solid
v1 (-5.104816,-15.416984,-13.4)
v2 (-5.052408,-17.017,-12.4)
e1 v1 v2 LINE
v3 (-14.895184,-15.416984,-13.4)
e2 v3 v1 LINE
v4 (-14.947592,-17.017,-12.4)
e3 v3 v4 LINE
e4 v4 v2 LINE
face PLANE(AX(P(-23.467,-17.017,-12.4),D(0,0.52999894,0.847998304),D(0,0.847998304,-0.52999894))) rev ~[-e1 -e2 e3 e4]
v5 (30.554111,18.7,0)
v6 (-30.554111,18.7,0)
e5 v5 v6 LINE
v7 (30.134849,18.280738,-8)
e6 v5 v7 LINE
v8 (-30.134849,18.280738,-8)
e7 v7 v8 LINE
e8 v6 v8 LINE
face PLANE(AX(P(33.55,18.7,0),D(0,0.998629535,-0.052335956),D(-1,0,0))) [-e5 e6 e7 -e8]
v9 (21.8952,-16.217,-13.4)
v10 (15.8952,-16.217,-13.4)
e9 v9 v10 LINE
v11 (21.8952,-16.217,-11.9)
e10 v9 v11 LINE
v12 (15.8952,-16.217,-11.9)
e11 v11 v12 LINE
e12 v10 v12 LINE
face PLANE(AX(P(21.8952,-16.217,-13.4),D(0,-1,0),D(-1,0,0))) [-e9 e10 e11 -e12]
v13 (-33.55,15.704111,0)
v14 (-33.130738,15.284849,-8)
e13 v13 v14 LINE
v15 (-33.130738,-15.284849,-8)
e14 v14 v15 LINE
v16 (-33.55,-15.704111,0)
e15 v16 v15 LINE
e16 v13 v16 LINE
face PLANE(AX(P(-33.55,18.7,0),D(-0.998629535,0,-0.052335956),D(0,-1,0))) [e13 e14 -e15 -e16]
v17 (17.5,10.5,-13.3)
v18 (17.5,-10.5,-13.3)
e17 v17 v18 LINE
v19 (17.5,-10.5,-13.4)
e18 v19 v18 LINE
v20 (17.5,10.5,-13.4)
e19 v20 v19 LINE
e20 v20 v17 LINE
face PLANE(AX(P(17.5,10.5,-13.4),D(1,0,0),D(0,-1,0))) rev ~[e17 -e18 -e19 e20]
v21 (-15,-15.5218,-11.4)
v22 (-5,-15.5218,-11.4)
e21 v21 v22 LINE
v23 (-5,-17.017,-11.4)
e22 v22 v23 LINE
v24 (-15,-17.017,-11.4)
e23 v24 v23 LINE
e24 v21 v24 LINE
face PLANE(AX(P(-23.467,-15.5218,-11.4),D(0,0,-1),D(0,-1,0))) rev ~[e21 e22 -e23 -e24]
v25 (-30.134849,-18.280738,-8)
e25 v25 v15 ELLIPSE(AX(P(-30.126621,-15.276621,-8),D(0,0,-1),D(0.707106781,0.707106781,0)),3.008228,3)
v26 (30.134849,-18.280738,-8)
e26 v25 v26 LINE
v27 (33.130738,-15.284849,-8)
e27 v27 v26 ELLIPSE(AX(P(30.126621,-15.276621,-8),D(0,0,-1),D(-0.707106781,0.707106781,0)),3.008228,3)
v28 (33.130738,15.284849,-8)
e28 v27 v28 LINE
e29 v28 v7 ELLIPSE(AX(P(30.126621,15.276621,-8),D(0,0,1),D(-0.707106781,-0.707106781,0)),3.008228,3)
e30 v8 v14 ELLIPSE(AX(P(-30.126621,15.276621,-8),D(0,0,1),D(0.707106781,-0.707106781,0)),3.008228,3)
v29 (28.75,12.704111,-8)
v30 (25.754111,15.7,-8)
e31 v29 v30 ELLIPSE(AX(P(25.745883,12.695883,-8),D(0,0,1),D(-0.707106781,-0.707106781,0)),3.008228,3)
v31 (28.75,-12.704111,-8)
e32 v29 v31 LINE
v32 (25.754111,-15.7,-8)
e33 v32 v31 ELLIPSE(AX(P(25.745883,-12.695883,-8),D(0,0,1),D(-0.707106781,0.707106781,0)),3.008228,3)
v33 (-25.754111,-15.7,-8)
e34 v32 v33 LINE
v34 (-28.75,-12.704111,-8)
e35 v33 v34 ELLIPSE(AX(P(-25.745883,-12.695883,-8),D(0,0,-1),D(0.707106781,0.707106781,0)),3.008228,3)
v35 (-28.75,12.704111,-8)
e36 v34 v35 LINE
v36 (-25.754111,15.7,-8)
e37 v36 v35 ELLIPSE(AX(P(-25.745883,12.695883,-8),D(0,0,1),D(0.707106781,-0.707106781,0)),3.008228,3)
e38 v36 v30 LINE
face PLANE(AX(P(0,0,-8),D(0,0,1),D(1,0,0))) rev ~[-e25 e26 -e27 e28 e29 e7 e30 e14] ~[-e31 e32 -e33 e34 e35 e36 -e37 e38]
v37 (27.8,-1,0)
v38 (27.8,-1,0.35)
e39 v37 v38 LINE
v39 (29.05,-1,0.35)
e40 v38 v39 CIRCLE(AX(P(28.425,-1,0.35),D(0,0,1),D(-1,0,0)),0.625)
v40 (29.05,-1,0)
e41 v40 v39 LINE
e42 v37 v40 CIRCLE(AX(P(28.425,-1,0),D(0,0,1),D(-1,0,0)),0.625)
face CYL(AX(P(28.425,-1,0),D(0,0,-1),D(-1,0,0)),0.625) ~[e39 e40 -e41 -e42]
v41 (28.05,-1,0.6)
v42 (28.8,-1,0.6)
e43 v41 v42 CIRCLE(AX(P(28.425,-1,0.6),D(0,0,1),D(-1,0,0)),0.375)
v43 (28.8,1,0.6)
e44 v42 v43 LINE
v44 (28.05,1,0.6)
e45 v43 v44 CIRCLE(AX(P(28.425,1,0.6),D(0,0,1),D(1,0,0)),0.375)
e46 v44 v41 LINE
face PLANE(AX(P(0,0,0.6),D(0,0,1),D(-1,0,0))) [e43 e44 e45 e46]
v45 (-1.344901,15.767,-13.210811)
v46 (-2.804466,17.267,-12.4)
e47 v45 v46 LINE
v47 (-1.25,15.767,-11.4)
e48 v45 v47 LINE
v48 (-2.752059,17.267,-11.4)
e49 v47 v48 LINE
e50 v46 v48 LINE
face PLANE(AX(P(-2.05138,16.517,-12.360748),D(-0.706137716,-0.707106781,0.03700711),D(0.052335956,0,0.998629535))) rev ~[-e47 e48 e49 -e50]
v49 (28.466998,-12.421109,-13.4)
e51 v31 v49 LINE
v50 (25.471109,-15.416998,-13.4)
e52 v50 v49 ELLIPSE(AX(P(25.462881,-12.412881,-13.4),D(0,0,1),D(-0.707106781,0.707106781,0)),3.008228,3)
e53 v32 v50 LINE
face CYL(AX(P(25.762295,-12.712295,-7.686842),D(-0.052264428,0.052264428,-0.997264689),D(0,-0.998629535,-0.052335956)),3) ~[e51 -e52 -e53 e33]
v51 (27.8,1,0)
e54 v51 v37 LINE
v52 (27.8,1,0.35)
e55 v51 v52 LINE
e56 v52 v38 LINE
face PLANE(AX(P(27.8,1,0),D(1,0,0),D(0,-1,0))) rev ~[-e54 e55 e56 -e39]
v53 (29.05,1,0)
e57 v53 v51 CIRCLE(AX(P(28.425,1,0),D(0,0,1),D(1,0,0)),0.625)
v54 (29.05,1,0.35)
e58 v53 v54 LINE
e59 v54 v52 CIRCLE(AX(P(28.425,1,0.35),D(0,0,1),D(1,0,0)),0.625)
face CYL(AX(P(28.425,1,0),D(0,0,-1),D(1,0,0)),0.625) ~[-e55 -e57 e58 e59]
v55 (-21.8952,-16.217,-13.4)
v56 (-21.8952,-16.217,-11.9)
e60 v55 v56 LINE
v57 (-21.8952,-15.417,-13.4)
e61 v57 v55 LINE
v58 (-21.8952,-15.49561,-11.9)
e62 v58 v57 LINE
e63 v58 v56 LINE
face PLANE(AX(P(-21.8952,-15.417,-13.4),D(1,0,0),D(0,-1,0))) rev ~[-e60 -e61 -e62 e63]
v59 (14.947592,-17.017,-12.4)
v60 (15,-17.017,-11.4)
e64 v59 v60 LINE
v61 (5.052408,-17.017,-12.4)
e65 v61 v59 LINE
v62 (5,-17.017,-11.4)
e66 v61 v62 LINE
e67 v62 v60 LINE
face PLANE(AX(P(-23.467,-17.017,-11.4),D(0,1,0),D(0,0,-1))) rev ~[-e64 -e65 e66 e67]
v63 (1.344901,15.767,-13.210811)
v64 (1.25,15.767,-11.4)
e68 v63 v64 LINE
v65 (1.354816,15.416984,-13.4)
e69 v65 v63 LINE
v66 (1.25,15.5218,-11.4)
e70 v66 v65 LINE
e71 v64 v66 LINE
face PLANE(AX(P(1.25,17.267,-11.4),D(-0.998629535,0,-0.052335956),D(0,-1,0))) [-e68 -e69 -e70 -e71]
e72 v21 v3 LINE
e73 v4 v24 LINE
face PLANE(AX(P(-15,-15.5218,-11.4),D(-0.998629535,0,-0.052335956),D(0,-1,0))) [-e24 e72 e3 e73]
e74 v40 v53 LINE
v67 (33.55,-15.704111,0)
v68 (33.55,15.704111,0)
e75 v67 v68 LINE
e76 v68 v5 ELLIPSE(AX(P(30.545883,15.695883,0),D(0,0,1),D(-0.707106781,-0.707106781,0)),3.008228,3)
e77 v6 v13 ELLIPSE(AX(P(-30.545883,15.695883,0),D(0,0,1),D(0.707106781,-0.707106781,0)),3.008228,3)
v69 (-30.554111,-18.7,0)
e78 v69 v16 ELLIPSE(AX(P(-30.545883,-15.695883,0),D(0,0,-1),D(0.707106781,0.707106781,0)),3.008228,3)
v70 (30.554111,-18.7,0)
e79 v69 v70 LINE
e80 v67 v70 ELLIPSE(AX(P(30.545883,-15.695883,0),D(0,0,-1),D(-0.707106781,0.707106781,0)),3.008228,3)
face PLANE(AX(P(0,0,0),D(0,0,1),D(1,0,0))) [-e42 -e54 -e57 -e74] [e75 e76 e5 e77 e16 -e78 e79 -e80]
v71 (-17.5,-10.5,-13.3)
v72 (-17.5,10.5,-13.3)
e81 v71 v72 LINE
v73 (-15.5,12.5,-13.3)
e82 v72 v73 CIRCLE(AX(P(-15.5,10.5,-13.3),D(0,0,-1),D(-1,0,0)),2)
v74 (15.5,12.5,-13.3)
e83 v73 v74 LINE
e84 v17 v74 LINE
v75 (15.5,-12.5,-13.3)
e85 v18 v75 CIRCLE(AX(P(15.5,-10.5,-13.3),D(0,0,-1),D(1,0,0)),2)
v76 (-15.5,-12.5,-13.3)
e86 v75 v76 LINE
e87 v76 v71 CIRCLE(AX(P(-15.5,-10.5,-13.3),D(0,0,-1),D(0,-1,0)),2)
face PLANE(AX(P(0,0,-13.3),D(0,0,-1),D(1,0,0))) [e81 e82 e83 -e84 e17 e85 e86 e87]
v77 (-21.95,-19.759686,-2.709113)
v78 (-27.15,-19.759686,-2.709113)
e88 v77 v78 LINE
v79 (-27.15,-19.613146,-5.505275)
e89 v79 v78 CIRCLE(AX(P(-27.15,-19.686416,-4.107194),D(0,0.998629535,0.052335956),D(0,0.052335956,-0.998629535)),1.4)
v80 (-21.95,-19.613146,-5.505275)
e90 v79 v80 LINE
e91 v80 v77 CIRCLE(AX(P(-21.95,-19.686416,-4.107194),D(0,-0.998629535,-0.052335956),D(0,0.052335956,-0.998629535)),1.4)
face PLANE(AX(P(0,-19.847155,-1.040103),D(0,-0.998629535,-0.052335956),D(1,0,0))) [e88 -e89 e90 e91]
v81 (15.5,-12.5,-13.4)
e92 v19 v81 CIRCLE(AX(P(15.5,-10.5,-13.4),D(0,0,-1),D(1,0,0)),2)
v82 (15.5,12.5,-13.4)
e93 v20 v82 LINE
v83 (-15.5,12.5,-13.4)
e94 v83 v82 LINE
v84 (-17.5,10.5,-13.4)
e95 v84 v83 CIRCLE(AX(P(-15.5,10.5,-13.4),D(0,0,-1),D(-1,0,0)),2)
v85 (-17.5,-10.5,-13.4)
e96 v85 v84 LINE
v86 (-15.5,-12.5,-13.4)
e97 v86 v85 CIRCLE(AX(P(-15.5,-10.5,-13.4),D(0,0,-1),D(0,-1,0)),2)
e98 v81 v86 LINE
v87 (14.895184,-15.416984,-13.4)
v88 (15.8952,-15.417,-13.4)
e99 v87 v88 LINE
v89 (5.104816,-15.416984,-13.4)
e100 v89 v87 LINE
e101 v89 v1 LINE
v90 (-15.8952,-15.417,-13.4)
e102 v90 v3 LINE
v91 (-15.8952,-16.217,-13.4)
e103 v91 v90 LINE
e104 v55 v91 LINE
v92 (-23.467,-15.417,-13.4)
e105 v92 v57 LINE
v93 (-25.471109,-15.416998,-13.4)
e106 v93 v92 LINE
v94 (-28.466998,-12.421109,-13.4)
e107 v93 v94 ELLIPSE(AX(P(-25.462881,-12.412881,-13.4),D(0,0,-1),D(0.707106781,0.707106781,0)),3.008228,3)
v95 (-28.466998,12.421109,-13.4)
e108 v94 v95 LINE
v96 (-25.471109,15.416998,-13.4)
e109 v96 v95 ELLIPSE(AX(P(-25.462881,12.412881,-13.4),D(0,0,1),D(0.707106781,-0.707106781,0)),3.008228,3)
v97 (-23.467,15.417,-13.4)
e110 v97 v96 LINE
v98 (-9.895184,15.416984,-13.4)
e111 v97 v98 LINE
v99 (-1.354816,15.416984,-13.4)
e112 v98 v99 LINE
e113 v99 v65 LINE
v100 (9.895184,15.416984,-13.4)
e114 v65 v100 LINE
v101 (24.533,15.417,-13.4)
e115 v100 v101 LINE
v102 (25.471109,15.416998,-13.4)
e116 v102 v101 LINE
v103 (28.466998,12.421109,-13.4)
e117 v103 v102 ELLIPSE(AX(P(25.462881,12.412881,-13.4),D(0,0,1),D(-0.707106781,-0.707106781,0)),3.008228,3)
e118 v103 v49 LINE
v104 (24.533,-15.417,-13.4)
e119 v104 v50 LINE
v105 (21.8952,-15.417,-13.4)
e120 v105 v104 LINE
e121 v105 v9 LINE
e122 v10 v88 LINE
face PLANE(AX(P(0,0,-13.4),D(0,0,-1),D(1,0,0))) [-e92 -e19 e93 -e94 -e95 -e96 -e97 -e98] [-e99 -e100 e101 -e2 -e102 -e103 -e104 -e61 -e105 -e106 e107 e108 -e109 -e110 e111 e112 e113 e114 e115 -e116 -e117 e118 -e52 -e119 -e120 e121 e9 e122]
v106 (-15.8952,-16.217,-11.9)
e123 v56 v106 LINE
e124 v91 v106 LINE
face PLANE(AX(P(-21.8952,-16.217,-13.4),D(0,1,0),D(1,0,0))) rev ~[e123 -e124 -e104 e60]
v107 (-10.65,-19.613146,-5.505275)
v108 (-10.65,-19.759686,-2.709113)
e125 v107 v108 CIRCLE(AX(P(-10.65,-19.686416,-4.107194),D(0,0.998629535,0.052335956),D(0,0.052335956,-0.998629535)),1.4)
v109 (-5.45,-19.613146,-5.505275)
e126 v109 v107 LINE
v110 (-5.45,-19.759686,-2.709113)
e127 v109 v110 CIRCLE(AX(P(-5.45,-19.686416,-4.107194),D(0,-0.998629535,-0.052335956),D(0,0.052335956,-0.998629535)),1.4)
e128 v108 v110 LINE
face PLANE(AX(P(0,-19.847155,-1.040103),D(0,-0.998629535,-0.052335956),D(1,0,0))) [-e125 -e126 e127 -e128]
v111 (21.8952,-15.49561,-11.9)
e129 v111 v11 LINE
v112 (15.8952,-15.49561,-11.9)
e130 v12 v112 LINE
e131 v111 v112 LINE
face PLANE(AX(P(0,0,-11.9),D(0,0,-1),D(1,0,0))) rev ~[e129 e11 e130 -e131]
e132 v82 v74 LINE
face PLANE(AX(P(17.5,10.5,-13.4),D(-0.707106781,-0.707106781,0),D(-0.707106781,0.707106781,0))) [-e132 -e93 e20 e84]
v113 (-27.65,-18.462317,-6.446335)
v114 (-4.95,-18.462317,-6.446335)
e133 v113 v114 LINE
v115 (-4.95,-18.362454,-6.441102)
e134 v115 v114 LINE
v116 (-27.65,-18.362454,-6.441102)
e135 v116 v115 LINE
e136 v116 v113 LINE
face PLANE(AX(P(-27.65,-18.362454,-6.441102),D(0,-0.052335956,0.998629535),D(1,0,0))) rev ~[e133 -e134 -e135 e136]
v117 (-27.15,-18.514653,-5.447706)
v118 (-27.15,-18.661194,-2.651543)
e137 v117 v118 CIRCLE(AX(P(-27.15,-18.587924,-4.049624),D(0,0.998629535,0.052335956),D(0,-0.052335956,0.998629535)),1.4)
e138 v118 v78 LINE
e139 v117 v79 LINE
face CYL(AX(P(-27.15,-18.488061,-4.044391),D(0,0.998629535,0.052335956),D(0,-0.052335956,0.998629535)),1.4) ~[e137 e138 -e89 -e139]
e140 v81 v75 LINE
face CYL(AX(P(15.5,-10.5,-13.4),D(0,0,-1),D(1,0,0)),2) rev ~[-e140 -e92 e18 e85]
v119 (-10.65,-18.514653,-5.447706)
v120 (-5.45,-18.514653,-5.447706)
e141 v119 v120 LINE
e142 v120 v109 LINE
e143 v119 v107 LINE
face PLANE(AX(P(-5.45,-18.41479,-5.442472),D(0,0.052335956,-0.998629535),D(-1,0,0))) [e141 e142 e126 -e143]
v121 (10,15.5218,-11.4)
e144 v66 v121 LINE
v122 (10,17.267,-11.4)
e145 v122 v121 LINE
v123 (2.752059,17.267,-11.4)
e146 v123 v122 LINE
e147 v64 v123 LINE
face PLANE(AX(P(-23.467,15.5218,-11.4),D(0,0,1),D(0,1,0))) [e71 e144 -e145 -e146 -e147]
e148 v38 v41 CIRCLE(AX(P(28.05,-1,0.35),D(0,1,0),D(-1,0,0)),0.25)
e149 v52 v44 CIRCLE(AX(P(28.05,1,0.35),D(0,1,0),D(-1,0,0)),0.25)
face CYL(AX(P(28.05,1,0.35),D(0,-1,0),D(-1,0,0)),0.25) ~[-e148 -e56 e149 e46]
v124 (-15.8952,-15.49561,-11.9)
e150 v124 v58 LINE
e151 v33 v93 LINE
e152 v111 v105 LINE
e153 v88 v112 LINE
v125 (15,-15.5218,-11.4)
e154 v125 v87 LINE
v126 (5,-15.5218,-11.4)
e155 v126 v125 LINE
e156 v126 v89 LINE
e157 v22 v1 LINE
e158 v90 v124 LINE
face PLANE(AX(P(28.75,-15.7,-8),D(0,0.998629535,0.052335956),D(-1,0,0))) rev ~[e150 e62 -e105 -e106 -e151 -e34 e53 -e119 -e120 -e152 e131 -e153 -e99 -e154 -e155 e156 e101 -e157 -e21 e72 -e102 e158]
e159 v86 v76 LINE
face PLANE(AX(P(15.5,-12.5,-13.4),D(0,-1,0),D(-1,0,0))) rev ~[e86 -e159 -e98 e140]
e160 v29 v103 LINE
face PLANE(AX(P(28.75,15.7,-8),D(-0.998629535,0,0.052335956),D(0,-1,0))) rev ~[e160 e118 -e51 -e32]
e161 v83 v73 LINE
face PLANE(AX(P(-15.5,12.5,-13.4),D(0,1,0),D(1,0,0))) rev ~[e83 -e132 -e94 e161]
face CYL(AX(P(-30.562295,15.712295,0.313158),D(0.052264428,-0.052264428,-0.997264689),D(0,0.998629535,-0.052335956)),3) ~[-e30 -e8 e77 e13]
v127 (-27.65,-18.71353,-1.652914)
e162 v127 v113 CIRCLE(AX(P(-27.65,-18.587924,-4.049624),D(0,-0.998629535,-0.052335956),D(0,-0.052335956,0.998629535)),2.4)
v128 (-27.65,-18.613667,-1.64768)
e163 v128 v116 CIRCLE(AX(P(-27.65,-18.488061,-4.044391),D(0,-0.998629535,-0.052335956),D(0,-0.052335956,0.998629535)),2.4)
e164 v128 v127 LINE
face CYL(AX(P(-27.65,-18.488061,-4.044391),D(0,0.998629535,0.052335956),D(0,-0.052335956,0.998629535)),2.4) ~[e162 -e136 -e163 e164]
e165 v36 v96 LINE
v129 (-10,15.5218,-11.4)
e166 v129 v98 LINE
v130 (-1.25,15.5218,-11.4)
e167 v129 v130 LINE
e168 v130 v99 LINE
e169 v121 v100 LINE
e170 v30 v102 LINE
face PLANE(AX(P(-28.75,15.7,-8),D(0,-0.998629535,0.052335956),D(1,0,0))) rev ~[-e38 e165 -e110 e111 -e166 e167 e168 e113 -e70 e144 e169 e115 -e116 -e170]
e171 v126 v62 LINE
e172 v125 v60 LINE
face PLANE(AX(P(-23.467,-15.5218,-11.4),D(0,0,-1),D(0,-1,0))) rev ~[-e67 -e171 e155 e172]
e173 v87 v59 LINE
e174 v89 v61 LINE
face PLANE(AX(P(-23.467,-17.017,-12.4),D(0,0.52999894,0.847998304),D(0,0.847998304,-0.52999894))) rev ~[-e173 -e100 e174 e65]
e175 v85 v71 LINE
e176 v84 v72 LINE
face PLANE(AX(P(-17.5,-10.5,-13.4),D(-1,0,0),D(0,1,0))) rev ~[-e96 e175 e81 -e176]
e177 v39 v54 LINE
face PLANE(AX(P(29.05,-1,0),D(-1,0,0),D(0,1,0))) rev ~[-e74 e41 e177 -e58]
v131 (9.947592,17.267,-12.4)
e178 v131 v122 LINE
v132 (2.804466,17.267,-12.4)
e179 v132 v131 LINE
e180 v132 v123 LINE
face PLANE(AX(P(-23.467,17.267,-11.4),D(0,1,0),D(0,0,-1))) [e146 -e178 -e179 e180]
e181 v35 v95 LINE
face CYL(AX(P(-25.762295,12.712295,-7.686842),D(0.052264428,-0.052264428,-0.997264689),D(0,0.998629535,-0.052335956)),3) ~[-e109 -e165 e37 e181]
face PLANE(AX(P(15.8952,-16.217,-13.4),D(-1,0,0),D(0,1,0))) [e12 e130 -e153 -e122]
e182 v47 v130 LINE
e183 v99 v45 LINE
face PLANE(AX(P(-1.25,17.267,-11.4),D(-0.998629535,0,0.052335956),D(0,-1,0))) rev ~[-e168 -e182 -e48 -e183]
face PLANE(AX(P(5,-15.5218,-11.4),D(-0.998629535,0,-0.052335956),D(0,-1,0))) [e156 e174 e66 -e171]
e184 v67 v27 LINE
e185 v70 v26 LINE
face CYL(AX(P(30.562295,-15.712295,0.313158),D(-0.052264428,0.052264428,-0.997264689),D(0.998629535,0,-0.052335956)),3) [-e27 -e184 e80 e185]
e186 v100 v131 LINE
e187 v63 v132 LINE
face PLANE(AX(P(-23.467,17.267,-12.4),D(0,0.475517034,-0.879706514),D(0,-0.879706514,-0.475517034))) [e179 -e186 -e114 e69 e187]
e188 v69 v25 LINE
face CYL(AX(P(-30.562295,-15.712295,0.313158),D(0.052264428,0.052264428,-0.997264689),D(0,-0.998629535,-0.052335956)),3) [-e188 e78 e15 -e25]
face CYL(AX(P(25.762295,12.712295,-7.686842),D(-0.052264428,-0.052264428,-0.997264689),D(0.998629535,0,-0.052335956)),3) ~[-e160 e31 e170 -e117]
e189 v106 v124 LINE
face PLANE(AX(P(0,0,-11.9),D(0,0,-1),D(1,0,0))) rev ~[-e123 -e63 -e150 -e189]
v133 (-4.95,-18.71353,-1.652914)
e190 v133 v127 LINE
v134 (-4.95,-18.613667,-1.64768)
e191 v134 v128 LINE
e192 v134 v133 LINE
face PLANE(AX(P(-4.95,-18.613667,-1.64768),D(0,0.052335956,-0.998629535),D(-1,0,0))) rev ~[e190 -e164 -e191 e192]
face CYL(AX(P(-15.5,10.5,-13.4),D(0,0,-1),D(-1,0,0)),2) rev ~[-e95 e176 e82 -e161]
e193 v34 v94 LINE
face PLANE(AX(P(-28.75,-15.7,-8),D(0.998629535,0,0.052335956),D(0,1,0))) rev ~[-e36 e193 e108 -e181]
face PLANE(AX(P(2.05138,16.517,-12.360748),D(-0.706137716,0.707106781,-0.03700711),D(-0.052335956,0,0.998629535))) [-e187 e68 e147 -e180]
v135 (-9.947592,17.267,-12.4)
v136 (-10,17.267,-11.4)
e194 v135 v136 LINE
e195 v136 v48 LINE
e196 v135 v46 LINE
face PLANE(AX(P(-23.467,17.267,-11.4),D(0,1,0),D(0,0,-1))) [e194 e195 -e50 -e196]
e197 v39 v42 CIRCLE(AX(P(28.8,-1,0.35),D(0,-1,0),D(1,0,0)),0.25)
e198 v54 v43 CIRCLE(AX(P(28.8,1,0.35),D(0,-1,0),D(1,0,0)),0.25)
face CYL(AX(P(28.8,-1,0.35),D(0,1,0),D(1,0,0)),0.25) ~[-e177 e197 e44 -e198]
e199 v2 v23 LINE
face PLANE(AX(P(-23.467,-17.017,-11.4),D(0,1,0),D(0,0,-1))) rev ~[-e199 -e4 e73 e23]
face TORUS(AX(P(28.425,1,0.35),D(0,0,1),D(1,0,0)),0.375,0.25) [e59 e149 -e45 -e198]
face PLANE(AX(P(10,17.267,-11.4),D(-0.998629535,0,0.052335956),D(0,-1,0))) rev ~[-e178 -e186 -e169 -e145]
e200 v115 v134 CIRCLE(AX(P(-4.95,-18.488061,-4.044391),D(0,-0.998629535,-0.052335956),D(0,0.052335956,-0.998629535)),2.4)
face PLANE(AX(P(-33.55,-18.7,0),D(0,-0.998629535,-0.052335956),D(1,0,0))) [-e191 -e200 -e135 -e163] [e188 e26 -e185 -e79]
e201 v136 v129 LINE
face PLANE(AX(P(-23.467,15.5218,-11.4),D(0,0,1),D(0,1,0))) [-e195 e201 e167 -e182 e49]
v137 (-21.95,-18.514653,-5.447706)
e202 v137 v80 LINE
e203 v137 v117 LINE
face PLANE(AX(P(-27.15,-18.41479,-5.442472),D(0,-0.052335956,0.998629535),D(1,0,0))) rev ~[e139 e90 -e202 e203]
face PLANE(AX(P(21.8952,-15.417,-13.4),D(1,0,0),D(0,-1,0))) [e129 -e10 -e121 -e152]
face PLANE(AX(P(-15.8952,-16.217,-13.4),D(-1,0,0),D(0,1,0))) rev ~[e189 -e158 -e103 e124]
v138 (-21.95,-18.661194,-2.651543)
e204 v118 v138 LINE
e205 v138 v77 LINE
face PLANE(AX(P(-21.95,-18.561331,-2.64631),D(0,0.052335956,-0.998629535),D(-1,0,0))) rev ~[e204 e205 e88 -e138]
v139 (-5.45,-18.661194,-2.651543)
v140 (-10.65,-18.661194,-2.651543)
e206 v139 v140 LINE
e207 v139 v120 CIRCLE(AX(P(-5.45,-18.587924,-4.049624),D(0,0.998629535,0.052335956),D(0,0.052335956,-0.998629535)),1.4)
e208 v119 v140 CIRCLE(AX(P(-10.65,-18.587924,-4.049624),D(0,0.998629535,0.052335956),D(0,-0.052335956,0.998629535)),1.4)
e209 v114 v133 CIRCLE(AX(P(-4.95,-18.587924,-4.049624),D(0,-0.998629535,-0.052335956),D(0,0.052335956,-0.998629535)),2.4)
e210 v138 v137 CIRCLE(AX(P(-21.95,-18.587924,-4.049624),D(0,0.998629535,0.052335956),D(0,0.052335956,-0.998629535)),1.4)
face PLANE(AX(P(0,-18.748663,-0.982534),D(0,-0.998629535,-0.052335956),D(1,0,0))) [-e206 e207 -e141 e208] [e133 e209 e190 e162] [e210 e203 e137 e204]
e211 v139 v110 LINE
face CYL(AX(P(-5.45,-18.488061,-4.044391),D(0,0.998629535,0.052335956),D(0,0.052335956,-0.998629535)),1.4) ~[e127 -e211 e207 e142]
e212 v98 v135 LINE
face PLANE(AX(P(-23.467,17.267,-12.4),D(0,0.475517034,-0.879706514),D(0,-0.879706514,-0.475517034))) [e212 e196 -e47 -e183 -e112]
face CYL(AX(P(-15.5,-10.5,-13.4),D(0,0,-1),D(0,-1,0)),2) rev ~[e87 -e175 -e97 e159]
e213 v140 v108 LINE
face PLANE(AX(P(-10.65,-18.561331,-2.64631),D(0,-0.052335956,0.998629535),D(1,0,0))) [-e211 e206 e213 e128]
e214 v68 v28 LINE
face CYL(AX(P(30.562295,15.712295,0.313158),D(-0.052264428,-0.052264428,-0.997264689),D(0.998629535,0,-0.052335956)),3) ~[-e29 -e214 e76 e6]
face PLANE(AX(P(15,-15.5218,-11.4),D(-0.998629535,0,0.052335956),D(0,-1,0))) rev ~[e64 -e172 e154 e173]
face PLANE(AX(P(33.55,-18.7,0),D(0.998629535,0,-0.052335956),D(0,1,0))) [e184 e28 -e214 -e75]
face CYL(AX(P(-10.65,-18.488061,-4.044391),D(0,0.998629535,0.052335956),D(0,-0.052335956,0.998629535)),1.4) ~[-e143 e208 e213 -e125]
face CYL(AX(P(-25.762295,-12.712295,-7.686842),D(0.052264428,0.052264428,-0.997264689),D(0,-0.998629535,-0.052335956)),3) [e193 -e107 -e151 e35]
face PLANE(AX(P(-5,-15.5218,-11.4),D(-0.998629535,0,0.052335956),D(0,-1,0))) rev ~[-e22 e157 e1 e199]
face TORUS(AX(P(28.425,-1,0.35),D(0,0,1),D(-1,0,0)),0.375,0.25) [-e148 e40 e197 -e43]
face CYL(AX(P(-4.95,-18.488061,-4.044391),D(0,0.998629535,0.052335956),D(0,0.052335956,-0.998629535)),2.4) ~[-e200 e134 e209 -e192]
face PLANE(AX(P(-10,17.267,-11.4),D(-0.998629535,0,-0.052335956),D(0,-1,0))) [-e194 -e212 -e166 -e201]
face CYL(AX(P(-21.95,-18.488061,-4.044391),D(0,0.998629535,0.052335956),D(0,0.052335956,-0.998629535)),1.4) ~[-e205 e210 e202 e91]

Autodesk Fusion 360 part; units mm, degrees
sketch "main-upper" plane through (0, 0, 0) normal (0, 0, 1) x (1, 0, 0)
  line L0 (33.55, 18.7) -> (-33.55, 18.7)
  line L1 (-33.55, 18.7) -> (-33.55, -18.7)
  line L2 (-33.55, -18.7) -> (33.55, -18.7)
  line L3 (33.55, -18.7) -> (33.55, 18.7)
  line L4 (33.55, 18.7) -> (-33.55, -18.7) construction
  line L5 (-33.55, 18.7) -> (33.55, -18.7) construction
  dimension "d1" = 67.1
  dimension "d2" = 37.4
extrude "Extrude1" add sketch "main-upper" against normal blind 8 draft -3
sketch "rgb-led" plane through (0, 0, 0) normal (0, 0, 1) x (-1, 0, 0)
  line L0 (-33.55, 18.7) -> (-33.55, -18.7)
  line L1 (-33.55, -18.7) -> (33.55, -18.7)
  line L2 (33.55, -18.7) -> (33.55, 18.7)
  line L3 (33.55, 18.7) -> (-33.55, 18.7)
  line L4 (-27.8, -1) -> (-27.8, 1)
  arc A0 (-27.8, 1) -> (-29.05, 1) centre (-28.425, 1) ccw
  line L5 (-29.05, 1) -> (-29.05, -1)
  arc A1 (-29.05, -1) -> (-27.8, -1) centre (-28.425, -1) ccw
  line L6 (-28.425, -1.625) -> (-28.425, 1.625) construction
  line L7 (-28.425, -18.7) -> (-28.425, 18.7) construction
  point P0 (-28.425, 0)
  point P1 (-28.425, 0)
  dimension "d5" = 3.25
  dimension "d6" = 1.25
  dimension "d8" = 4.5
extrude "Extrude2" add sketch "rgb-led" along normal blind 0.6 contours L4 A0 L5 A1
fillet "Fillet1" radius 0.25 4 edges at (28.425, 1.625, 0.6) (27.8, 0, 0.6) (28.425, -1.625, 0.6) (29.05, 0, 0.6)
sketch "eink" plane through (0, 0, 0) normal (0, 0, 1) x (-1, 0, 0)
  line L0 (-29.05, -1) -> (-29.05, 1)
  arc A0 (-27.8, 1) -> (-29.05, 1) centre (-28.425, 1) ccw
  line L1 (-27.8, 1) -> (-27.8, -1)
  arc A1 (-29.05, -1) -> (-27.8, -1) centre (-28.425, -1) ccw
  line L2 (-33.55, 18.7) -> (-33.55, -18.7)
  line L3 (-33.55, -18.7) -> (33.55, -18.7)
  line L4 (33.55, -18.7) -> (33.55, 18.7)
  line L5 (33.55, 18.7) -> (-33.55, 18.7)
  line L6 (-24.05, 14) -> (24.05, 14)
  line L7 (24.05, 14) -> (24.05, -14)
  line L8 (24.05, -14) -> (-24.05, -14)
  line L9 (-24.05, -14) -> (-24.05, 14)
  line L10 (-24.05, 14) -> (24.05, -14) construction
  line L11 (24.05, 14) -> (-24.05, -14) construction
  dimension "d13" = 48.1
  dimension "d14" = 28
sketch "buttons-base" plane through (0, -18.6488, -0.9773) normal (0, -0.9986, -0.0523) x (1, 0, 0)
  line L0 (-33.1307, -7.0323) -> (33.1307, -7.0323)
  line L1 (33.1307, -7.0323) -> (33.55, 0.9787)
  line L2 (33.55, 0.9787) -> (-33.55, 0.9787)
  line L3 (-33.55, 0.9787) -> (-33.1307, -7.0323)
  line L4 (-27.65, -5.4713) -> (-4.95, -5.4713)
  arc A0 (-4.95, -5.4713) -> (-4.95, -0.6713) centre (-4.95, -3.0713) ccw
  line L5 (-4.95, -0.6713) -> (-27.65, -0.6713)
  arc A1 (-27.65, -0.6713) -> (-27.65, -5.4713) centre (-27.65, -3.0713) ccw
  line L6 (-30.05, -3.0713) -> (-2.55, -3.0713) construction
  dimension "d15" = 4.8
  dimension "d16" = 27.5
  dimension "d17" = 1.65
  dimension "d19" = 3.5
sketch "buttons" plane through (0, -18.6488, -0.9773) normal (0, -0.9986, -0.0523) x (1, 0, 0)
  line L0 (-27.15, -4.4713) -> (-21.95, -4.4713)
  arc A0 (-21.95, -4.4713) -> (-21.95, -1.6713) centre (-21.95, -3.0713) ccw
  line L1 (-21.95, -1.6713) -> (-27.15, -1.6713)
  arc A1 (-27.15, -1.6713) -> (-27.15, -4.4713) centre (-27.15, -3.0713) ccw
  line L2 (-28.55, -3.0713) -> (-20.55, -3.0713) construction
  line L3 (-30.05, -3.0713) -> (-2.55, -3.0713)
  line L4 (-27.65, -5.4713) -> (-4.95, -5.4713)
  line L5 (-16.3, -3.0713) -> (-16.3, -5.4713) construction
  line L6 (-5.45, -4.4713) -> (-10.65, -4.4713)
  arc A2 (-10.65, -1.6713) -> (-10.65, -4.4713) centre (-10.65, -3.0713) ccw
  line L7 (-10.65, -1.6713) -> (-5.45, -1.6713)
  arc A3 (-5.45, -4.4713) -> (-5.45, -1.6713) centre (-5.45, -3.0713) ccw
  dimension "d20" = 8
  dimension "d21" = 2.8
  dimension "d22" = 1.5
extrude "Extrude3" add sketch "buttons-base" along normal blind 0.1 contours L4 A0 L5 A1
extrude "Extrude4" add sketch "buttons" along normal blind 1.2
sketch "batery-compartment-body" plane through (0, 0, -8) normal (0, 0, -1) x (1, 0, 0)
  line L0 (-33.1307, -18.2807) -> (33.1307, -18.2807)
  line L1 (33.1307, -18.2807) -> (33.1307, 18.2807)
  line L2 (33.1307, 18.2807) -> (-33.1307, 18.2807)
  line L3 (-33.1307, 18.2807) -> (-33.1307, -18.2807)
  line L4 (-28.75, -15.7) -> (28.75, -15.7)
  line L5 (28.75, -15.7) -> (28.75, 15.7)
  line L6 (28.75, 15.7) -> (-28.75, 15.7)
  line L7 (-28.75, 15.7) -> (-28.75, -15.7)
  line L8 (-28.75, -15.7) -> (28.75, 15.7) construction
  line L9 (28.75, -15.7) -> (-28.75, 15.7) construction
  dimension "d27" = 57.5
  dimension "d28" = 31.4
extrude "Extrude5" add sketch "batery-compartment-body" along normal blind 5.4 draft -3 contours L4 L5 L6 L7
sketch "rear-label-indent" plane through (0, 0, -13.4) normal (0, 0, -1) x (1, 0, 0)
  line L0 (28.467, 15.417) -> (-28.467, 15.417)
  line L1 (-28.467, 15.417) -> (-28.467, -15.417)
  line L2 (-28.467, -15.417) -> (28.467, -15.417)
  line L3 (28.467, -15.417) -> (28.467, 15.417)
  line L4 (15.5, 12.5) -> (-15.5, 12.5)
  line L5 (-17.5, 10.5) -> (-17.5, -10.5)
  line L6 (-15.5, -12.5) -> (15.5, -12.5)
  line L7 (17.5, -10.5) -> (17.5, 10.5)
  line L8 (17.5, 12.5) -> (-17.5, -12.5) construction
  line L9 (-17.5, 12.5) -> (17.5, -12.5) construction
  line L10 (17.5, -10.5) -> (15.5, -12.5)
  line L11 (17.5, -12.5) -> (17.5, -10.5) construction
  line L12 (15.5, -12.5) -> (17.5, -12.5) construction
  arc A0 (-17.5, -10.5) -> (-15.5, -12.5) centre (-15.5, -10.5) ccw
  arc A1 (-15.5, 12.5) -> (-17.5, 10.5) centre (-15.5, 10.5) ccw
  arc A2 (17.5, 10.5) -> (15.5, 12.5) centre (15.5, 10.5) ccw
  dimension "d34" = 35
  dimension "d35" = 25
  dimension "d36" = 45
  dimension "d37" = 33
  dimension "d38" = 2
  dimension "d39" = 2
  dimension "d40" = 2
extrude "Extrude6" cut sketch "rear-label-indent" against normal blind 0.1 contours L4 L5 L6 L7 L10 A0 A1 A2
ref_plane "WorkPlane1" through (-28.467, 0, 0) normal (1, 0, 0) x (0, 1, 0)
sketch "clips-profiile" plane through (-28.467, 0, 0) normal (1, 0, 0) x (0, 1, 0)
  line L0 (15.417, -13.4) -> (-15.417, -13.4)
  line L1 (-15.417, -13.4) -> (-15.7, -8)
  line L2 (-15.7, -8) -> (15.7, -8)
  line L3 (15.7, -8) -> (15.417, -13.4)
  line L4 (-15.5218, -11.4) -> (-17.017, -11.4)
  line L5 (-17.017, -11.4) -> (-17.017, -12.4)
  line L6 (-17.017, -12.4) -> (-15.417, -13.4)
  line L7 (15.5218, -11.4) -> (17.267, -11.4)
  line L8 (17.267, -11.4) -> (17.267, -12.4)
  line L9 (17.267, -12.4) -> (15.417, -13.4)
  dimension "d49" = 2
  dimension "d50" = 1.6
  dimension "d51" = 1.85
  dimension "d52" = 1
  dimension "d53" = 1
fillet "Fillet2" radius 3 4 edges at (-33.3404, 18.4904, -4) (33.3404, 18.4904, -4) (33.3404, -18.4904, -4) (-33.3404, -18.4904, -4)
fillet "Fillet3" radius 3 4 edges at (28.6085, 15.5585, -10.7) (28.6085, -15.5585, -10.7) (-28.6085, -15.5585, -10.7) (-28.6085, 15.5585, -10.7)
extrude "Extrude7" add sketch "clips-profiile" along normal blind 48 from surface at 5 contours L3 L7 L8 L9 | L1 L4 L5 L6
sketch "clips-cut" plane through (0, 0, -11.4) normal (0, 0, 1) x (-1, 0, 0)
  line L0 (23.467, -17.267) -> (23.467, -15.5218)
  line L1 (23.467, -15.5218) -> (-24.533, -15.5218)
  line L2 (-24.533, -15.5218) -> (-24.533, -17.267)
  line L3 (-24.533, -17.267) -> (23.467, -17.267)
  line L4 (23.467, 15.5218) -> (23.467, 17.017)
  line L5 (23.467, 17.017) -> (-24.533, 17.017)
  line L6 (-24.533, 17.017) -> (-24.533, 15.5218)
  line L7 (-24.533, 15.5218) -> (23.467, 15.5218)
  line L8 (21.95, 18.6612) -> (27.15, 18.6612)
  line L9 (27.15, 18.6612) -> (27.15, 19.7597)
  line L10 (27.15, 19.7597) -> (21.95, 19.7597)
  line L11 (21.95, 19.7597) -> (21.95, 18.6612)
  line L12 (5.45, 18.6612) -> (10.65, 18.6612)
  line L13 (10.65, 18.6612) -> (10.65, 19.7597)
  line L14 (10.65, 19.7597) -> (5.45, 19.7597)
  line L15 (5.45, 19.7597) -> (5.45, 18.6612)
  line L16 (0, 0) -> (0, 30) construction
  line L17 (5, 15.5218) -> (5, 17.017)
  line L18 (15, 15.5218) -> (15, 17.017)
  line L19 (-15, 15.5218) -> (-15, 17.017)
  line L20 (-5, 15.5218) -> (-5, 17.017)
  line L21 (-10, -17.267) -> (-10, -15.5218)
  line L22 (10, -17.267) -> (10, -15.5218)
  line L23 (-1.25, -17.267) -> (-1.25, -15.5218)
  line L24 (1.25, -17.267) -> (1.25, -15.5218)
  dimension "d61" = 10
  dimension "d62" = 5
  dimension "d63" = 10
  dimension "d64" = 1.25
extrude "Extrude9" cut sketch "clips-cut" against normal blind 2 draft 3 contours L4 L5 L7 L18 | L5 L7 L17 L20 | L5 L6 L7 L19
extrude "Extrude10" cut sketch "clips-cut" against normal blind 2 draft 3 contours L0 L1 L3 L22 | L1 L3 L23 L24 | L1 L2 L3 L21
chamfer "Chamfer1" distance 1.5 angle 45 2 edges at (1.2762, 17.267, -11.9) (-1.2762, 17.267, -11.9)
sketch "battery-door-tabs" plane through (0, 0, -13.4) normal (0, 0, -1) x (1, 0, 0)
  arc A0 (17.5, 10.5) -> (15.5, 12.5) centre (15.5, 10.5) ccw
  line L0 (17.5, 10.5) -> (17.5, -10.5)
  line L1 (17.5, -10.5) -> (15.5, -12.5)
  line L2 (15.5, -12.5) -> (-15.5, -12.5)
  arc A1 (-17.5, -10.5) -> (-15.5, -12.5) centre (-15.5, -10.5) ccw
  line L3 (-17.5, -10.5) -> (-17.5, 10.5)
  arc A2 (-15.5, 12.5) -> (-17.5, 10.5) centre (-15.5, 10.5) ccw
  line L4 (-15.5, 12.5) -> (15.5, 12.5)
  ellipse E0 centre (-25.4629, -12.4129) end of major axis (-27.59, -14.54) minor radius 3 (-28.467, -12.4211) -> (-25.4711, -15.417) ccw
  line L5 (-25.4711, -15.417) -> (-9.8952, -15.417)
  line L6 (-9.8952, -15.417) -> (-1.3548, -15.417)
  line L7 (-1.3548, -15.417) -> (1.3548, -15.417)
  line L8 (1.3548, -15.417) -> (9.8952, -15.417)
  line L9 (9.8952, -15.417) -> (25.4711, -15.417)
  ellipse E1 centre (25.4629, -12.4129) end of major axis (27.59, -14.54) minor radius 3 (25.4711, -15.417) -> (28.467, -12.4211) ccw
  line L10 (28.467, -12.4211) -> (28.467, 12.4211)
  ellipse E2 centre (25.4629, 12.4129) end of major axis (27.59, 14.54) minor radius 3 (28.467, 12.4211) -> (25.4711, 15.417) ccw
  line L11 (25.4711, 15.417) -> (14.8952, 15.417)
  line L12 (14.8952, 15.417) -> (5.1048, 15.417)
  line L13 (5.1048, 15.417) -> (-5.1048, 15.417)
  line L14 (-5.1048, 15.417) -> (-14.8952, 15.417)
  line L15 (-14.8952, 15.417) -> (-25.4711, 15.417)
  ellipse E3 centre (-25.4629, 12.4129) end of major axis (-27.59, 14.54) minor radius 3 (-25.4711, 15.417) -> (-28.467, 12.4211) ccw
  line L16 (-28.467, 12.4211) -> (-28.467, -12.4211)
  line L17 (-5.1048, 15.417) -> (-5.0524, 17.017)
  line L18 (-5.0524, 17.017) -> (-14.9476, 17.017)
  line L19 (-14.9476, 17.017) -> (-14.8952, 15.417)
  line L20 (-14.8952, 15.417) -> (-5.1048, 15.417)
  line L21 (-15.8952, 15.417) -> (-21.8952, 15.417)
  line L22 (-21.8952, 15.417) -> (-21.8952, 16.217)
  line L23 (-21.8952, 16.217) -> (-15.8952, 16.217)
  line L24 (-15.8952, 16.217) -> (-15.8952, 15.417)
  line L25 (-15.8952, 15.417) -> (-21.8952, 16.217) construction
  line L26 (-21.8952, 15.417) -> (-15.8952, 16.217) construction
  line L27 (0, 0) -> (0, 15.417) construction
  line L28 (15.8952, 16.217) -> (15.8952, 15.417)
  line L29 (21.8952, 15.417) -> (21.8952, 16.217)
  line L30 (21.8952, 16.217) -> (15.8952, 16.217)
  point P0 (-18.8952, 15.817)
  dimension "d75" = 0.8
  dimension "d76" = 6
  dimension "d77" = 1
extrude "Extrude11" add sketch "battery-door-tabs" against normal blind 1.5 contours L15 L21 L22 L23 L24 | L11 L28 L29 L30
equation "d64 = ( 2.5 / 2 ) * 1 mm"
equation "d66 = body_draft_angle"
equation "d68 = body_draft_angle"
equation "d71 = corner_radius"
equation "d73 = corner_radius"
equation "corner_radius = 3.0 mm"
equation "body_draft_angle = 3 deg"
equation "pogo_pad = 1.5 mm"
